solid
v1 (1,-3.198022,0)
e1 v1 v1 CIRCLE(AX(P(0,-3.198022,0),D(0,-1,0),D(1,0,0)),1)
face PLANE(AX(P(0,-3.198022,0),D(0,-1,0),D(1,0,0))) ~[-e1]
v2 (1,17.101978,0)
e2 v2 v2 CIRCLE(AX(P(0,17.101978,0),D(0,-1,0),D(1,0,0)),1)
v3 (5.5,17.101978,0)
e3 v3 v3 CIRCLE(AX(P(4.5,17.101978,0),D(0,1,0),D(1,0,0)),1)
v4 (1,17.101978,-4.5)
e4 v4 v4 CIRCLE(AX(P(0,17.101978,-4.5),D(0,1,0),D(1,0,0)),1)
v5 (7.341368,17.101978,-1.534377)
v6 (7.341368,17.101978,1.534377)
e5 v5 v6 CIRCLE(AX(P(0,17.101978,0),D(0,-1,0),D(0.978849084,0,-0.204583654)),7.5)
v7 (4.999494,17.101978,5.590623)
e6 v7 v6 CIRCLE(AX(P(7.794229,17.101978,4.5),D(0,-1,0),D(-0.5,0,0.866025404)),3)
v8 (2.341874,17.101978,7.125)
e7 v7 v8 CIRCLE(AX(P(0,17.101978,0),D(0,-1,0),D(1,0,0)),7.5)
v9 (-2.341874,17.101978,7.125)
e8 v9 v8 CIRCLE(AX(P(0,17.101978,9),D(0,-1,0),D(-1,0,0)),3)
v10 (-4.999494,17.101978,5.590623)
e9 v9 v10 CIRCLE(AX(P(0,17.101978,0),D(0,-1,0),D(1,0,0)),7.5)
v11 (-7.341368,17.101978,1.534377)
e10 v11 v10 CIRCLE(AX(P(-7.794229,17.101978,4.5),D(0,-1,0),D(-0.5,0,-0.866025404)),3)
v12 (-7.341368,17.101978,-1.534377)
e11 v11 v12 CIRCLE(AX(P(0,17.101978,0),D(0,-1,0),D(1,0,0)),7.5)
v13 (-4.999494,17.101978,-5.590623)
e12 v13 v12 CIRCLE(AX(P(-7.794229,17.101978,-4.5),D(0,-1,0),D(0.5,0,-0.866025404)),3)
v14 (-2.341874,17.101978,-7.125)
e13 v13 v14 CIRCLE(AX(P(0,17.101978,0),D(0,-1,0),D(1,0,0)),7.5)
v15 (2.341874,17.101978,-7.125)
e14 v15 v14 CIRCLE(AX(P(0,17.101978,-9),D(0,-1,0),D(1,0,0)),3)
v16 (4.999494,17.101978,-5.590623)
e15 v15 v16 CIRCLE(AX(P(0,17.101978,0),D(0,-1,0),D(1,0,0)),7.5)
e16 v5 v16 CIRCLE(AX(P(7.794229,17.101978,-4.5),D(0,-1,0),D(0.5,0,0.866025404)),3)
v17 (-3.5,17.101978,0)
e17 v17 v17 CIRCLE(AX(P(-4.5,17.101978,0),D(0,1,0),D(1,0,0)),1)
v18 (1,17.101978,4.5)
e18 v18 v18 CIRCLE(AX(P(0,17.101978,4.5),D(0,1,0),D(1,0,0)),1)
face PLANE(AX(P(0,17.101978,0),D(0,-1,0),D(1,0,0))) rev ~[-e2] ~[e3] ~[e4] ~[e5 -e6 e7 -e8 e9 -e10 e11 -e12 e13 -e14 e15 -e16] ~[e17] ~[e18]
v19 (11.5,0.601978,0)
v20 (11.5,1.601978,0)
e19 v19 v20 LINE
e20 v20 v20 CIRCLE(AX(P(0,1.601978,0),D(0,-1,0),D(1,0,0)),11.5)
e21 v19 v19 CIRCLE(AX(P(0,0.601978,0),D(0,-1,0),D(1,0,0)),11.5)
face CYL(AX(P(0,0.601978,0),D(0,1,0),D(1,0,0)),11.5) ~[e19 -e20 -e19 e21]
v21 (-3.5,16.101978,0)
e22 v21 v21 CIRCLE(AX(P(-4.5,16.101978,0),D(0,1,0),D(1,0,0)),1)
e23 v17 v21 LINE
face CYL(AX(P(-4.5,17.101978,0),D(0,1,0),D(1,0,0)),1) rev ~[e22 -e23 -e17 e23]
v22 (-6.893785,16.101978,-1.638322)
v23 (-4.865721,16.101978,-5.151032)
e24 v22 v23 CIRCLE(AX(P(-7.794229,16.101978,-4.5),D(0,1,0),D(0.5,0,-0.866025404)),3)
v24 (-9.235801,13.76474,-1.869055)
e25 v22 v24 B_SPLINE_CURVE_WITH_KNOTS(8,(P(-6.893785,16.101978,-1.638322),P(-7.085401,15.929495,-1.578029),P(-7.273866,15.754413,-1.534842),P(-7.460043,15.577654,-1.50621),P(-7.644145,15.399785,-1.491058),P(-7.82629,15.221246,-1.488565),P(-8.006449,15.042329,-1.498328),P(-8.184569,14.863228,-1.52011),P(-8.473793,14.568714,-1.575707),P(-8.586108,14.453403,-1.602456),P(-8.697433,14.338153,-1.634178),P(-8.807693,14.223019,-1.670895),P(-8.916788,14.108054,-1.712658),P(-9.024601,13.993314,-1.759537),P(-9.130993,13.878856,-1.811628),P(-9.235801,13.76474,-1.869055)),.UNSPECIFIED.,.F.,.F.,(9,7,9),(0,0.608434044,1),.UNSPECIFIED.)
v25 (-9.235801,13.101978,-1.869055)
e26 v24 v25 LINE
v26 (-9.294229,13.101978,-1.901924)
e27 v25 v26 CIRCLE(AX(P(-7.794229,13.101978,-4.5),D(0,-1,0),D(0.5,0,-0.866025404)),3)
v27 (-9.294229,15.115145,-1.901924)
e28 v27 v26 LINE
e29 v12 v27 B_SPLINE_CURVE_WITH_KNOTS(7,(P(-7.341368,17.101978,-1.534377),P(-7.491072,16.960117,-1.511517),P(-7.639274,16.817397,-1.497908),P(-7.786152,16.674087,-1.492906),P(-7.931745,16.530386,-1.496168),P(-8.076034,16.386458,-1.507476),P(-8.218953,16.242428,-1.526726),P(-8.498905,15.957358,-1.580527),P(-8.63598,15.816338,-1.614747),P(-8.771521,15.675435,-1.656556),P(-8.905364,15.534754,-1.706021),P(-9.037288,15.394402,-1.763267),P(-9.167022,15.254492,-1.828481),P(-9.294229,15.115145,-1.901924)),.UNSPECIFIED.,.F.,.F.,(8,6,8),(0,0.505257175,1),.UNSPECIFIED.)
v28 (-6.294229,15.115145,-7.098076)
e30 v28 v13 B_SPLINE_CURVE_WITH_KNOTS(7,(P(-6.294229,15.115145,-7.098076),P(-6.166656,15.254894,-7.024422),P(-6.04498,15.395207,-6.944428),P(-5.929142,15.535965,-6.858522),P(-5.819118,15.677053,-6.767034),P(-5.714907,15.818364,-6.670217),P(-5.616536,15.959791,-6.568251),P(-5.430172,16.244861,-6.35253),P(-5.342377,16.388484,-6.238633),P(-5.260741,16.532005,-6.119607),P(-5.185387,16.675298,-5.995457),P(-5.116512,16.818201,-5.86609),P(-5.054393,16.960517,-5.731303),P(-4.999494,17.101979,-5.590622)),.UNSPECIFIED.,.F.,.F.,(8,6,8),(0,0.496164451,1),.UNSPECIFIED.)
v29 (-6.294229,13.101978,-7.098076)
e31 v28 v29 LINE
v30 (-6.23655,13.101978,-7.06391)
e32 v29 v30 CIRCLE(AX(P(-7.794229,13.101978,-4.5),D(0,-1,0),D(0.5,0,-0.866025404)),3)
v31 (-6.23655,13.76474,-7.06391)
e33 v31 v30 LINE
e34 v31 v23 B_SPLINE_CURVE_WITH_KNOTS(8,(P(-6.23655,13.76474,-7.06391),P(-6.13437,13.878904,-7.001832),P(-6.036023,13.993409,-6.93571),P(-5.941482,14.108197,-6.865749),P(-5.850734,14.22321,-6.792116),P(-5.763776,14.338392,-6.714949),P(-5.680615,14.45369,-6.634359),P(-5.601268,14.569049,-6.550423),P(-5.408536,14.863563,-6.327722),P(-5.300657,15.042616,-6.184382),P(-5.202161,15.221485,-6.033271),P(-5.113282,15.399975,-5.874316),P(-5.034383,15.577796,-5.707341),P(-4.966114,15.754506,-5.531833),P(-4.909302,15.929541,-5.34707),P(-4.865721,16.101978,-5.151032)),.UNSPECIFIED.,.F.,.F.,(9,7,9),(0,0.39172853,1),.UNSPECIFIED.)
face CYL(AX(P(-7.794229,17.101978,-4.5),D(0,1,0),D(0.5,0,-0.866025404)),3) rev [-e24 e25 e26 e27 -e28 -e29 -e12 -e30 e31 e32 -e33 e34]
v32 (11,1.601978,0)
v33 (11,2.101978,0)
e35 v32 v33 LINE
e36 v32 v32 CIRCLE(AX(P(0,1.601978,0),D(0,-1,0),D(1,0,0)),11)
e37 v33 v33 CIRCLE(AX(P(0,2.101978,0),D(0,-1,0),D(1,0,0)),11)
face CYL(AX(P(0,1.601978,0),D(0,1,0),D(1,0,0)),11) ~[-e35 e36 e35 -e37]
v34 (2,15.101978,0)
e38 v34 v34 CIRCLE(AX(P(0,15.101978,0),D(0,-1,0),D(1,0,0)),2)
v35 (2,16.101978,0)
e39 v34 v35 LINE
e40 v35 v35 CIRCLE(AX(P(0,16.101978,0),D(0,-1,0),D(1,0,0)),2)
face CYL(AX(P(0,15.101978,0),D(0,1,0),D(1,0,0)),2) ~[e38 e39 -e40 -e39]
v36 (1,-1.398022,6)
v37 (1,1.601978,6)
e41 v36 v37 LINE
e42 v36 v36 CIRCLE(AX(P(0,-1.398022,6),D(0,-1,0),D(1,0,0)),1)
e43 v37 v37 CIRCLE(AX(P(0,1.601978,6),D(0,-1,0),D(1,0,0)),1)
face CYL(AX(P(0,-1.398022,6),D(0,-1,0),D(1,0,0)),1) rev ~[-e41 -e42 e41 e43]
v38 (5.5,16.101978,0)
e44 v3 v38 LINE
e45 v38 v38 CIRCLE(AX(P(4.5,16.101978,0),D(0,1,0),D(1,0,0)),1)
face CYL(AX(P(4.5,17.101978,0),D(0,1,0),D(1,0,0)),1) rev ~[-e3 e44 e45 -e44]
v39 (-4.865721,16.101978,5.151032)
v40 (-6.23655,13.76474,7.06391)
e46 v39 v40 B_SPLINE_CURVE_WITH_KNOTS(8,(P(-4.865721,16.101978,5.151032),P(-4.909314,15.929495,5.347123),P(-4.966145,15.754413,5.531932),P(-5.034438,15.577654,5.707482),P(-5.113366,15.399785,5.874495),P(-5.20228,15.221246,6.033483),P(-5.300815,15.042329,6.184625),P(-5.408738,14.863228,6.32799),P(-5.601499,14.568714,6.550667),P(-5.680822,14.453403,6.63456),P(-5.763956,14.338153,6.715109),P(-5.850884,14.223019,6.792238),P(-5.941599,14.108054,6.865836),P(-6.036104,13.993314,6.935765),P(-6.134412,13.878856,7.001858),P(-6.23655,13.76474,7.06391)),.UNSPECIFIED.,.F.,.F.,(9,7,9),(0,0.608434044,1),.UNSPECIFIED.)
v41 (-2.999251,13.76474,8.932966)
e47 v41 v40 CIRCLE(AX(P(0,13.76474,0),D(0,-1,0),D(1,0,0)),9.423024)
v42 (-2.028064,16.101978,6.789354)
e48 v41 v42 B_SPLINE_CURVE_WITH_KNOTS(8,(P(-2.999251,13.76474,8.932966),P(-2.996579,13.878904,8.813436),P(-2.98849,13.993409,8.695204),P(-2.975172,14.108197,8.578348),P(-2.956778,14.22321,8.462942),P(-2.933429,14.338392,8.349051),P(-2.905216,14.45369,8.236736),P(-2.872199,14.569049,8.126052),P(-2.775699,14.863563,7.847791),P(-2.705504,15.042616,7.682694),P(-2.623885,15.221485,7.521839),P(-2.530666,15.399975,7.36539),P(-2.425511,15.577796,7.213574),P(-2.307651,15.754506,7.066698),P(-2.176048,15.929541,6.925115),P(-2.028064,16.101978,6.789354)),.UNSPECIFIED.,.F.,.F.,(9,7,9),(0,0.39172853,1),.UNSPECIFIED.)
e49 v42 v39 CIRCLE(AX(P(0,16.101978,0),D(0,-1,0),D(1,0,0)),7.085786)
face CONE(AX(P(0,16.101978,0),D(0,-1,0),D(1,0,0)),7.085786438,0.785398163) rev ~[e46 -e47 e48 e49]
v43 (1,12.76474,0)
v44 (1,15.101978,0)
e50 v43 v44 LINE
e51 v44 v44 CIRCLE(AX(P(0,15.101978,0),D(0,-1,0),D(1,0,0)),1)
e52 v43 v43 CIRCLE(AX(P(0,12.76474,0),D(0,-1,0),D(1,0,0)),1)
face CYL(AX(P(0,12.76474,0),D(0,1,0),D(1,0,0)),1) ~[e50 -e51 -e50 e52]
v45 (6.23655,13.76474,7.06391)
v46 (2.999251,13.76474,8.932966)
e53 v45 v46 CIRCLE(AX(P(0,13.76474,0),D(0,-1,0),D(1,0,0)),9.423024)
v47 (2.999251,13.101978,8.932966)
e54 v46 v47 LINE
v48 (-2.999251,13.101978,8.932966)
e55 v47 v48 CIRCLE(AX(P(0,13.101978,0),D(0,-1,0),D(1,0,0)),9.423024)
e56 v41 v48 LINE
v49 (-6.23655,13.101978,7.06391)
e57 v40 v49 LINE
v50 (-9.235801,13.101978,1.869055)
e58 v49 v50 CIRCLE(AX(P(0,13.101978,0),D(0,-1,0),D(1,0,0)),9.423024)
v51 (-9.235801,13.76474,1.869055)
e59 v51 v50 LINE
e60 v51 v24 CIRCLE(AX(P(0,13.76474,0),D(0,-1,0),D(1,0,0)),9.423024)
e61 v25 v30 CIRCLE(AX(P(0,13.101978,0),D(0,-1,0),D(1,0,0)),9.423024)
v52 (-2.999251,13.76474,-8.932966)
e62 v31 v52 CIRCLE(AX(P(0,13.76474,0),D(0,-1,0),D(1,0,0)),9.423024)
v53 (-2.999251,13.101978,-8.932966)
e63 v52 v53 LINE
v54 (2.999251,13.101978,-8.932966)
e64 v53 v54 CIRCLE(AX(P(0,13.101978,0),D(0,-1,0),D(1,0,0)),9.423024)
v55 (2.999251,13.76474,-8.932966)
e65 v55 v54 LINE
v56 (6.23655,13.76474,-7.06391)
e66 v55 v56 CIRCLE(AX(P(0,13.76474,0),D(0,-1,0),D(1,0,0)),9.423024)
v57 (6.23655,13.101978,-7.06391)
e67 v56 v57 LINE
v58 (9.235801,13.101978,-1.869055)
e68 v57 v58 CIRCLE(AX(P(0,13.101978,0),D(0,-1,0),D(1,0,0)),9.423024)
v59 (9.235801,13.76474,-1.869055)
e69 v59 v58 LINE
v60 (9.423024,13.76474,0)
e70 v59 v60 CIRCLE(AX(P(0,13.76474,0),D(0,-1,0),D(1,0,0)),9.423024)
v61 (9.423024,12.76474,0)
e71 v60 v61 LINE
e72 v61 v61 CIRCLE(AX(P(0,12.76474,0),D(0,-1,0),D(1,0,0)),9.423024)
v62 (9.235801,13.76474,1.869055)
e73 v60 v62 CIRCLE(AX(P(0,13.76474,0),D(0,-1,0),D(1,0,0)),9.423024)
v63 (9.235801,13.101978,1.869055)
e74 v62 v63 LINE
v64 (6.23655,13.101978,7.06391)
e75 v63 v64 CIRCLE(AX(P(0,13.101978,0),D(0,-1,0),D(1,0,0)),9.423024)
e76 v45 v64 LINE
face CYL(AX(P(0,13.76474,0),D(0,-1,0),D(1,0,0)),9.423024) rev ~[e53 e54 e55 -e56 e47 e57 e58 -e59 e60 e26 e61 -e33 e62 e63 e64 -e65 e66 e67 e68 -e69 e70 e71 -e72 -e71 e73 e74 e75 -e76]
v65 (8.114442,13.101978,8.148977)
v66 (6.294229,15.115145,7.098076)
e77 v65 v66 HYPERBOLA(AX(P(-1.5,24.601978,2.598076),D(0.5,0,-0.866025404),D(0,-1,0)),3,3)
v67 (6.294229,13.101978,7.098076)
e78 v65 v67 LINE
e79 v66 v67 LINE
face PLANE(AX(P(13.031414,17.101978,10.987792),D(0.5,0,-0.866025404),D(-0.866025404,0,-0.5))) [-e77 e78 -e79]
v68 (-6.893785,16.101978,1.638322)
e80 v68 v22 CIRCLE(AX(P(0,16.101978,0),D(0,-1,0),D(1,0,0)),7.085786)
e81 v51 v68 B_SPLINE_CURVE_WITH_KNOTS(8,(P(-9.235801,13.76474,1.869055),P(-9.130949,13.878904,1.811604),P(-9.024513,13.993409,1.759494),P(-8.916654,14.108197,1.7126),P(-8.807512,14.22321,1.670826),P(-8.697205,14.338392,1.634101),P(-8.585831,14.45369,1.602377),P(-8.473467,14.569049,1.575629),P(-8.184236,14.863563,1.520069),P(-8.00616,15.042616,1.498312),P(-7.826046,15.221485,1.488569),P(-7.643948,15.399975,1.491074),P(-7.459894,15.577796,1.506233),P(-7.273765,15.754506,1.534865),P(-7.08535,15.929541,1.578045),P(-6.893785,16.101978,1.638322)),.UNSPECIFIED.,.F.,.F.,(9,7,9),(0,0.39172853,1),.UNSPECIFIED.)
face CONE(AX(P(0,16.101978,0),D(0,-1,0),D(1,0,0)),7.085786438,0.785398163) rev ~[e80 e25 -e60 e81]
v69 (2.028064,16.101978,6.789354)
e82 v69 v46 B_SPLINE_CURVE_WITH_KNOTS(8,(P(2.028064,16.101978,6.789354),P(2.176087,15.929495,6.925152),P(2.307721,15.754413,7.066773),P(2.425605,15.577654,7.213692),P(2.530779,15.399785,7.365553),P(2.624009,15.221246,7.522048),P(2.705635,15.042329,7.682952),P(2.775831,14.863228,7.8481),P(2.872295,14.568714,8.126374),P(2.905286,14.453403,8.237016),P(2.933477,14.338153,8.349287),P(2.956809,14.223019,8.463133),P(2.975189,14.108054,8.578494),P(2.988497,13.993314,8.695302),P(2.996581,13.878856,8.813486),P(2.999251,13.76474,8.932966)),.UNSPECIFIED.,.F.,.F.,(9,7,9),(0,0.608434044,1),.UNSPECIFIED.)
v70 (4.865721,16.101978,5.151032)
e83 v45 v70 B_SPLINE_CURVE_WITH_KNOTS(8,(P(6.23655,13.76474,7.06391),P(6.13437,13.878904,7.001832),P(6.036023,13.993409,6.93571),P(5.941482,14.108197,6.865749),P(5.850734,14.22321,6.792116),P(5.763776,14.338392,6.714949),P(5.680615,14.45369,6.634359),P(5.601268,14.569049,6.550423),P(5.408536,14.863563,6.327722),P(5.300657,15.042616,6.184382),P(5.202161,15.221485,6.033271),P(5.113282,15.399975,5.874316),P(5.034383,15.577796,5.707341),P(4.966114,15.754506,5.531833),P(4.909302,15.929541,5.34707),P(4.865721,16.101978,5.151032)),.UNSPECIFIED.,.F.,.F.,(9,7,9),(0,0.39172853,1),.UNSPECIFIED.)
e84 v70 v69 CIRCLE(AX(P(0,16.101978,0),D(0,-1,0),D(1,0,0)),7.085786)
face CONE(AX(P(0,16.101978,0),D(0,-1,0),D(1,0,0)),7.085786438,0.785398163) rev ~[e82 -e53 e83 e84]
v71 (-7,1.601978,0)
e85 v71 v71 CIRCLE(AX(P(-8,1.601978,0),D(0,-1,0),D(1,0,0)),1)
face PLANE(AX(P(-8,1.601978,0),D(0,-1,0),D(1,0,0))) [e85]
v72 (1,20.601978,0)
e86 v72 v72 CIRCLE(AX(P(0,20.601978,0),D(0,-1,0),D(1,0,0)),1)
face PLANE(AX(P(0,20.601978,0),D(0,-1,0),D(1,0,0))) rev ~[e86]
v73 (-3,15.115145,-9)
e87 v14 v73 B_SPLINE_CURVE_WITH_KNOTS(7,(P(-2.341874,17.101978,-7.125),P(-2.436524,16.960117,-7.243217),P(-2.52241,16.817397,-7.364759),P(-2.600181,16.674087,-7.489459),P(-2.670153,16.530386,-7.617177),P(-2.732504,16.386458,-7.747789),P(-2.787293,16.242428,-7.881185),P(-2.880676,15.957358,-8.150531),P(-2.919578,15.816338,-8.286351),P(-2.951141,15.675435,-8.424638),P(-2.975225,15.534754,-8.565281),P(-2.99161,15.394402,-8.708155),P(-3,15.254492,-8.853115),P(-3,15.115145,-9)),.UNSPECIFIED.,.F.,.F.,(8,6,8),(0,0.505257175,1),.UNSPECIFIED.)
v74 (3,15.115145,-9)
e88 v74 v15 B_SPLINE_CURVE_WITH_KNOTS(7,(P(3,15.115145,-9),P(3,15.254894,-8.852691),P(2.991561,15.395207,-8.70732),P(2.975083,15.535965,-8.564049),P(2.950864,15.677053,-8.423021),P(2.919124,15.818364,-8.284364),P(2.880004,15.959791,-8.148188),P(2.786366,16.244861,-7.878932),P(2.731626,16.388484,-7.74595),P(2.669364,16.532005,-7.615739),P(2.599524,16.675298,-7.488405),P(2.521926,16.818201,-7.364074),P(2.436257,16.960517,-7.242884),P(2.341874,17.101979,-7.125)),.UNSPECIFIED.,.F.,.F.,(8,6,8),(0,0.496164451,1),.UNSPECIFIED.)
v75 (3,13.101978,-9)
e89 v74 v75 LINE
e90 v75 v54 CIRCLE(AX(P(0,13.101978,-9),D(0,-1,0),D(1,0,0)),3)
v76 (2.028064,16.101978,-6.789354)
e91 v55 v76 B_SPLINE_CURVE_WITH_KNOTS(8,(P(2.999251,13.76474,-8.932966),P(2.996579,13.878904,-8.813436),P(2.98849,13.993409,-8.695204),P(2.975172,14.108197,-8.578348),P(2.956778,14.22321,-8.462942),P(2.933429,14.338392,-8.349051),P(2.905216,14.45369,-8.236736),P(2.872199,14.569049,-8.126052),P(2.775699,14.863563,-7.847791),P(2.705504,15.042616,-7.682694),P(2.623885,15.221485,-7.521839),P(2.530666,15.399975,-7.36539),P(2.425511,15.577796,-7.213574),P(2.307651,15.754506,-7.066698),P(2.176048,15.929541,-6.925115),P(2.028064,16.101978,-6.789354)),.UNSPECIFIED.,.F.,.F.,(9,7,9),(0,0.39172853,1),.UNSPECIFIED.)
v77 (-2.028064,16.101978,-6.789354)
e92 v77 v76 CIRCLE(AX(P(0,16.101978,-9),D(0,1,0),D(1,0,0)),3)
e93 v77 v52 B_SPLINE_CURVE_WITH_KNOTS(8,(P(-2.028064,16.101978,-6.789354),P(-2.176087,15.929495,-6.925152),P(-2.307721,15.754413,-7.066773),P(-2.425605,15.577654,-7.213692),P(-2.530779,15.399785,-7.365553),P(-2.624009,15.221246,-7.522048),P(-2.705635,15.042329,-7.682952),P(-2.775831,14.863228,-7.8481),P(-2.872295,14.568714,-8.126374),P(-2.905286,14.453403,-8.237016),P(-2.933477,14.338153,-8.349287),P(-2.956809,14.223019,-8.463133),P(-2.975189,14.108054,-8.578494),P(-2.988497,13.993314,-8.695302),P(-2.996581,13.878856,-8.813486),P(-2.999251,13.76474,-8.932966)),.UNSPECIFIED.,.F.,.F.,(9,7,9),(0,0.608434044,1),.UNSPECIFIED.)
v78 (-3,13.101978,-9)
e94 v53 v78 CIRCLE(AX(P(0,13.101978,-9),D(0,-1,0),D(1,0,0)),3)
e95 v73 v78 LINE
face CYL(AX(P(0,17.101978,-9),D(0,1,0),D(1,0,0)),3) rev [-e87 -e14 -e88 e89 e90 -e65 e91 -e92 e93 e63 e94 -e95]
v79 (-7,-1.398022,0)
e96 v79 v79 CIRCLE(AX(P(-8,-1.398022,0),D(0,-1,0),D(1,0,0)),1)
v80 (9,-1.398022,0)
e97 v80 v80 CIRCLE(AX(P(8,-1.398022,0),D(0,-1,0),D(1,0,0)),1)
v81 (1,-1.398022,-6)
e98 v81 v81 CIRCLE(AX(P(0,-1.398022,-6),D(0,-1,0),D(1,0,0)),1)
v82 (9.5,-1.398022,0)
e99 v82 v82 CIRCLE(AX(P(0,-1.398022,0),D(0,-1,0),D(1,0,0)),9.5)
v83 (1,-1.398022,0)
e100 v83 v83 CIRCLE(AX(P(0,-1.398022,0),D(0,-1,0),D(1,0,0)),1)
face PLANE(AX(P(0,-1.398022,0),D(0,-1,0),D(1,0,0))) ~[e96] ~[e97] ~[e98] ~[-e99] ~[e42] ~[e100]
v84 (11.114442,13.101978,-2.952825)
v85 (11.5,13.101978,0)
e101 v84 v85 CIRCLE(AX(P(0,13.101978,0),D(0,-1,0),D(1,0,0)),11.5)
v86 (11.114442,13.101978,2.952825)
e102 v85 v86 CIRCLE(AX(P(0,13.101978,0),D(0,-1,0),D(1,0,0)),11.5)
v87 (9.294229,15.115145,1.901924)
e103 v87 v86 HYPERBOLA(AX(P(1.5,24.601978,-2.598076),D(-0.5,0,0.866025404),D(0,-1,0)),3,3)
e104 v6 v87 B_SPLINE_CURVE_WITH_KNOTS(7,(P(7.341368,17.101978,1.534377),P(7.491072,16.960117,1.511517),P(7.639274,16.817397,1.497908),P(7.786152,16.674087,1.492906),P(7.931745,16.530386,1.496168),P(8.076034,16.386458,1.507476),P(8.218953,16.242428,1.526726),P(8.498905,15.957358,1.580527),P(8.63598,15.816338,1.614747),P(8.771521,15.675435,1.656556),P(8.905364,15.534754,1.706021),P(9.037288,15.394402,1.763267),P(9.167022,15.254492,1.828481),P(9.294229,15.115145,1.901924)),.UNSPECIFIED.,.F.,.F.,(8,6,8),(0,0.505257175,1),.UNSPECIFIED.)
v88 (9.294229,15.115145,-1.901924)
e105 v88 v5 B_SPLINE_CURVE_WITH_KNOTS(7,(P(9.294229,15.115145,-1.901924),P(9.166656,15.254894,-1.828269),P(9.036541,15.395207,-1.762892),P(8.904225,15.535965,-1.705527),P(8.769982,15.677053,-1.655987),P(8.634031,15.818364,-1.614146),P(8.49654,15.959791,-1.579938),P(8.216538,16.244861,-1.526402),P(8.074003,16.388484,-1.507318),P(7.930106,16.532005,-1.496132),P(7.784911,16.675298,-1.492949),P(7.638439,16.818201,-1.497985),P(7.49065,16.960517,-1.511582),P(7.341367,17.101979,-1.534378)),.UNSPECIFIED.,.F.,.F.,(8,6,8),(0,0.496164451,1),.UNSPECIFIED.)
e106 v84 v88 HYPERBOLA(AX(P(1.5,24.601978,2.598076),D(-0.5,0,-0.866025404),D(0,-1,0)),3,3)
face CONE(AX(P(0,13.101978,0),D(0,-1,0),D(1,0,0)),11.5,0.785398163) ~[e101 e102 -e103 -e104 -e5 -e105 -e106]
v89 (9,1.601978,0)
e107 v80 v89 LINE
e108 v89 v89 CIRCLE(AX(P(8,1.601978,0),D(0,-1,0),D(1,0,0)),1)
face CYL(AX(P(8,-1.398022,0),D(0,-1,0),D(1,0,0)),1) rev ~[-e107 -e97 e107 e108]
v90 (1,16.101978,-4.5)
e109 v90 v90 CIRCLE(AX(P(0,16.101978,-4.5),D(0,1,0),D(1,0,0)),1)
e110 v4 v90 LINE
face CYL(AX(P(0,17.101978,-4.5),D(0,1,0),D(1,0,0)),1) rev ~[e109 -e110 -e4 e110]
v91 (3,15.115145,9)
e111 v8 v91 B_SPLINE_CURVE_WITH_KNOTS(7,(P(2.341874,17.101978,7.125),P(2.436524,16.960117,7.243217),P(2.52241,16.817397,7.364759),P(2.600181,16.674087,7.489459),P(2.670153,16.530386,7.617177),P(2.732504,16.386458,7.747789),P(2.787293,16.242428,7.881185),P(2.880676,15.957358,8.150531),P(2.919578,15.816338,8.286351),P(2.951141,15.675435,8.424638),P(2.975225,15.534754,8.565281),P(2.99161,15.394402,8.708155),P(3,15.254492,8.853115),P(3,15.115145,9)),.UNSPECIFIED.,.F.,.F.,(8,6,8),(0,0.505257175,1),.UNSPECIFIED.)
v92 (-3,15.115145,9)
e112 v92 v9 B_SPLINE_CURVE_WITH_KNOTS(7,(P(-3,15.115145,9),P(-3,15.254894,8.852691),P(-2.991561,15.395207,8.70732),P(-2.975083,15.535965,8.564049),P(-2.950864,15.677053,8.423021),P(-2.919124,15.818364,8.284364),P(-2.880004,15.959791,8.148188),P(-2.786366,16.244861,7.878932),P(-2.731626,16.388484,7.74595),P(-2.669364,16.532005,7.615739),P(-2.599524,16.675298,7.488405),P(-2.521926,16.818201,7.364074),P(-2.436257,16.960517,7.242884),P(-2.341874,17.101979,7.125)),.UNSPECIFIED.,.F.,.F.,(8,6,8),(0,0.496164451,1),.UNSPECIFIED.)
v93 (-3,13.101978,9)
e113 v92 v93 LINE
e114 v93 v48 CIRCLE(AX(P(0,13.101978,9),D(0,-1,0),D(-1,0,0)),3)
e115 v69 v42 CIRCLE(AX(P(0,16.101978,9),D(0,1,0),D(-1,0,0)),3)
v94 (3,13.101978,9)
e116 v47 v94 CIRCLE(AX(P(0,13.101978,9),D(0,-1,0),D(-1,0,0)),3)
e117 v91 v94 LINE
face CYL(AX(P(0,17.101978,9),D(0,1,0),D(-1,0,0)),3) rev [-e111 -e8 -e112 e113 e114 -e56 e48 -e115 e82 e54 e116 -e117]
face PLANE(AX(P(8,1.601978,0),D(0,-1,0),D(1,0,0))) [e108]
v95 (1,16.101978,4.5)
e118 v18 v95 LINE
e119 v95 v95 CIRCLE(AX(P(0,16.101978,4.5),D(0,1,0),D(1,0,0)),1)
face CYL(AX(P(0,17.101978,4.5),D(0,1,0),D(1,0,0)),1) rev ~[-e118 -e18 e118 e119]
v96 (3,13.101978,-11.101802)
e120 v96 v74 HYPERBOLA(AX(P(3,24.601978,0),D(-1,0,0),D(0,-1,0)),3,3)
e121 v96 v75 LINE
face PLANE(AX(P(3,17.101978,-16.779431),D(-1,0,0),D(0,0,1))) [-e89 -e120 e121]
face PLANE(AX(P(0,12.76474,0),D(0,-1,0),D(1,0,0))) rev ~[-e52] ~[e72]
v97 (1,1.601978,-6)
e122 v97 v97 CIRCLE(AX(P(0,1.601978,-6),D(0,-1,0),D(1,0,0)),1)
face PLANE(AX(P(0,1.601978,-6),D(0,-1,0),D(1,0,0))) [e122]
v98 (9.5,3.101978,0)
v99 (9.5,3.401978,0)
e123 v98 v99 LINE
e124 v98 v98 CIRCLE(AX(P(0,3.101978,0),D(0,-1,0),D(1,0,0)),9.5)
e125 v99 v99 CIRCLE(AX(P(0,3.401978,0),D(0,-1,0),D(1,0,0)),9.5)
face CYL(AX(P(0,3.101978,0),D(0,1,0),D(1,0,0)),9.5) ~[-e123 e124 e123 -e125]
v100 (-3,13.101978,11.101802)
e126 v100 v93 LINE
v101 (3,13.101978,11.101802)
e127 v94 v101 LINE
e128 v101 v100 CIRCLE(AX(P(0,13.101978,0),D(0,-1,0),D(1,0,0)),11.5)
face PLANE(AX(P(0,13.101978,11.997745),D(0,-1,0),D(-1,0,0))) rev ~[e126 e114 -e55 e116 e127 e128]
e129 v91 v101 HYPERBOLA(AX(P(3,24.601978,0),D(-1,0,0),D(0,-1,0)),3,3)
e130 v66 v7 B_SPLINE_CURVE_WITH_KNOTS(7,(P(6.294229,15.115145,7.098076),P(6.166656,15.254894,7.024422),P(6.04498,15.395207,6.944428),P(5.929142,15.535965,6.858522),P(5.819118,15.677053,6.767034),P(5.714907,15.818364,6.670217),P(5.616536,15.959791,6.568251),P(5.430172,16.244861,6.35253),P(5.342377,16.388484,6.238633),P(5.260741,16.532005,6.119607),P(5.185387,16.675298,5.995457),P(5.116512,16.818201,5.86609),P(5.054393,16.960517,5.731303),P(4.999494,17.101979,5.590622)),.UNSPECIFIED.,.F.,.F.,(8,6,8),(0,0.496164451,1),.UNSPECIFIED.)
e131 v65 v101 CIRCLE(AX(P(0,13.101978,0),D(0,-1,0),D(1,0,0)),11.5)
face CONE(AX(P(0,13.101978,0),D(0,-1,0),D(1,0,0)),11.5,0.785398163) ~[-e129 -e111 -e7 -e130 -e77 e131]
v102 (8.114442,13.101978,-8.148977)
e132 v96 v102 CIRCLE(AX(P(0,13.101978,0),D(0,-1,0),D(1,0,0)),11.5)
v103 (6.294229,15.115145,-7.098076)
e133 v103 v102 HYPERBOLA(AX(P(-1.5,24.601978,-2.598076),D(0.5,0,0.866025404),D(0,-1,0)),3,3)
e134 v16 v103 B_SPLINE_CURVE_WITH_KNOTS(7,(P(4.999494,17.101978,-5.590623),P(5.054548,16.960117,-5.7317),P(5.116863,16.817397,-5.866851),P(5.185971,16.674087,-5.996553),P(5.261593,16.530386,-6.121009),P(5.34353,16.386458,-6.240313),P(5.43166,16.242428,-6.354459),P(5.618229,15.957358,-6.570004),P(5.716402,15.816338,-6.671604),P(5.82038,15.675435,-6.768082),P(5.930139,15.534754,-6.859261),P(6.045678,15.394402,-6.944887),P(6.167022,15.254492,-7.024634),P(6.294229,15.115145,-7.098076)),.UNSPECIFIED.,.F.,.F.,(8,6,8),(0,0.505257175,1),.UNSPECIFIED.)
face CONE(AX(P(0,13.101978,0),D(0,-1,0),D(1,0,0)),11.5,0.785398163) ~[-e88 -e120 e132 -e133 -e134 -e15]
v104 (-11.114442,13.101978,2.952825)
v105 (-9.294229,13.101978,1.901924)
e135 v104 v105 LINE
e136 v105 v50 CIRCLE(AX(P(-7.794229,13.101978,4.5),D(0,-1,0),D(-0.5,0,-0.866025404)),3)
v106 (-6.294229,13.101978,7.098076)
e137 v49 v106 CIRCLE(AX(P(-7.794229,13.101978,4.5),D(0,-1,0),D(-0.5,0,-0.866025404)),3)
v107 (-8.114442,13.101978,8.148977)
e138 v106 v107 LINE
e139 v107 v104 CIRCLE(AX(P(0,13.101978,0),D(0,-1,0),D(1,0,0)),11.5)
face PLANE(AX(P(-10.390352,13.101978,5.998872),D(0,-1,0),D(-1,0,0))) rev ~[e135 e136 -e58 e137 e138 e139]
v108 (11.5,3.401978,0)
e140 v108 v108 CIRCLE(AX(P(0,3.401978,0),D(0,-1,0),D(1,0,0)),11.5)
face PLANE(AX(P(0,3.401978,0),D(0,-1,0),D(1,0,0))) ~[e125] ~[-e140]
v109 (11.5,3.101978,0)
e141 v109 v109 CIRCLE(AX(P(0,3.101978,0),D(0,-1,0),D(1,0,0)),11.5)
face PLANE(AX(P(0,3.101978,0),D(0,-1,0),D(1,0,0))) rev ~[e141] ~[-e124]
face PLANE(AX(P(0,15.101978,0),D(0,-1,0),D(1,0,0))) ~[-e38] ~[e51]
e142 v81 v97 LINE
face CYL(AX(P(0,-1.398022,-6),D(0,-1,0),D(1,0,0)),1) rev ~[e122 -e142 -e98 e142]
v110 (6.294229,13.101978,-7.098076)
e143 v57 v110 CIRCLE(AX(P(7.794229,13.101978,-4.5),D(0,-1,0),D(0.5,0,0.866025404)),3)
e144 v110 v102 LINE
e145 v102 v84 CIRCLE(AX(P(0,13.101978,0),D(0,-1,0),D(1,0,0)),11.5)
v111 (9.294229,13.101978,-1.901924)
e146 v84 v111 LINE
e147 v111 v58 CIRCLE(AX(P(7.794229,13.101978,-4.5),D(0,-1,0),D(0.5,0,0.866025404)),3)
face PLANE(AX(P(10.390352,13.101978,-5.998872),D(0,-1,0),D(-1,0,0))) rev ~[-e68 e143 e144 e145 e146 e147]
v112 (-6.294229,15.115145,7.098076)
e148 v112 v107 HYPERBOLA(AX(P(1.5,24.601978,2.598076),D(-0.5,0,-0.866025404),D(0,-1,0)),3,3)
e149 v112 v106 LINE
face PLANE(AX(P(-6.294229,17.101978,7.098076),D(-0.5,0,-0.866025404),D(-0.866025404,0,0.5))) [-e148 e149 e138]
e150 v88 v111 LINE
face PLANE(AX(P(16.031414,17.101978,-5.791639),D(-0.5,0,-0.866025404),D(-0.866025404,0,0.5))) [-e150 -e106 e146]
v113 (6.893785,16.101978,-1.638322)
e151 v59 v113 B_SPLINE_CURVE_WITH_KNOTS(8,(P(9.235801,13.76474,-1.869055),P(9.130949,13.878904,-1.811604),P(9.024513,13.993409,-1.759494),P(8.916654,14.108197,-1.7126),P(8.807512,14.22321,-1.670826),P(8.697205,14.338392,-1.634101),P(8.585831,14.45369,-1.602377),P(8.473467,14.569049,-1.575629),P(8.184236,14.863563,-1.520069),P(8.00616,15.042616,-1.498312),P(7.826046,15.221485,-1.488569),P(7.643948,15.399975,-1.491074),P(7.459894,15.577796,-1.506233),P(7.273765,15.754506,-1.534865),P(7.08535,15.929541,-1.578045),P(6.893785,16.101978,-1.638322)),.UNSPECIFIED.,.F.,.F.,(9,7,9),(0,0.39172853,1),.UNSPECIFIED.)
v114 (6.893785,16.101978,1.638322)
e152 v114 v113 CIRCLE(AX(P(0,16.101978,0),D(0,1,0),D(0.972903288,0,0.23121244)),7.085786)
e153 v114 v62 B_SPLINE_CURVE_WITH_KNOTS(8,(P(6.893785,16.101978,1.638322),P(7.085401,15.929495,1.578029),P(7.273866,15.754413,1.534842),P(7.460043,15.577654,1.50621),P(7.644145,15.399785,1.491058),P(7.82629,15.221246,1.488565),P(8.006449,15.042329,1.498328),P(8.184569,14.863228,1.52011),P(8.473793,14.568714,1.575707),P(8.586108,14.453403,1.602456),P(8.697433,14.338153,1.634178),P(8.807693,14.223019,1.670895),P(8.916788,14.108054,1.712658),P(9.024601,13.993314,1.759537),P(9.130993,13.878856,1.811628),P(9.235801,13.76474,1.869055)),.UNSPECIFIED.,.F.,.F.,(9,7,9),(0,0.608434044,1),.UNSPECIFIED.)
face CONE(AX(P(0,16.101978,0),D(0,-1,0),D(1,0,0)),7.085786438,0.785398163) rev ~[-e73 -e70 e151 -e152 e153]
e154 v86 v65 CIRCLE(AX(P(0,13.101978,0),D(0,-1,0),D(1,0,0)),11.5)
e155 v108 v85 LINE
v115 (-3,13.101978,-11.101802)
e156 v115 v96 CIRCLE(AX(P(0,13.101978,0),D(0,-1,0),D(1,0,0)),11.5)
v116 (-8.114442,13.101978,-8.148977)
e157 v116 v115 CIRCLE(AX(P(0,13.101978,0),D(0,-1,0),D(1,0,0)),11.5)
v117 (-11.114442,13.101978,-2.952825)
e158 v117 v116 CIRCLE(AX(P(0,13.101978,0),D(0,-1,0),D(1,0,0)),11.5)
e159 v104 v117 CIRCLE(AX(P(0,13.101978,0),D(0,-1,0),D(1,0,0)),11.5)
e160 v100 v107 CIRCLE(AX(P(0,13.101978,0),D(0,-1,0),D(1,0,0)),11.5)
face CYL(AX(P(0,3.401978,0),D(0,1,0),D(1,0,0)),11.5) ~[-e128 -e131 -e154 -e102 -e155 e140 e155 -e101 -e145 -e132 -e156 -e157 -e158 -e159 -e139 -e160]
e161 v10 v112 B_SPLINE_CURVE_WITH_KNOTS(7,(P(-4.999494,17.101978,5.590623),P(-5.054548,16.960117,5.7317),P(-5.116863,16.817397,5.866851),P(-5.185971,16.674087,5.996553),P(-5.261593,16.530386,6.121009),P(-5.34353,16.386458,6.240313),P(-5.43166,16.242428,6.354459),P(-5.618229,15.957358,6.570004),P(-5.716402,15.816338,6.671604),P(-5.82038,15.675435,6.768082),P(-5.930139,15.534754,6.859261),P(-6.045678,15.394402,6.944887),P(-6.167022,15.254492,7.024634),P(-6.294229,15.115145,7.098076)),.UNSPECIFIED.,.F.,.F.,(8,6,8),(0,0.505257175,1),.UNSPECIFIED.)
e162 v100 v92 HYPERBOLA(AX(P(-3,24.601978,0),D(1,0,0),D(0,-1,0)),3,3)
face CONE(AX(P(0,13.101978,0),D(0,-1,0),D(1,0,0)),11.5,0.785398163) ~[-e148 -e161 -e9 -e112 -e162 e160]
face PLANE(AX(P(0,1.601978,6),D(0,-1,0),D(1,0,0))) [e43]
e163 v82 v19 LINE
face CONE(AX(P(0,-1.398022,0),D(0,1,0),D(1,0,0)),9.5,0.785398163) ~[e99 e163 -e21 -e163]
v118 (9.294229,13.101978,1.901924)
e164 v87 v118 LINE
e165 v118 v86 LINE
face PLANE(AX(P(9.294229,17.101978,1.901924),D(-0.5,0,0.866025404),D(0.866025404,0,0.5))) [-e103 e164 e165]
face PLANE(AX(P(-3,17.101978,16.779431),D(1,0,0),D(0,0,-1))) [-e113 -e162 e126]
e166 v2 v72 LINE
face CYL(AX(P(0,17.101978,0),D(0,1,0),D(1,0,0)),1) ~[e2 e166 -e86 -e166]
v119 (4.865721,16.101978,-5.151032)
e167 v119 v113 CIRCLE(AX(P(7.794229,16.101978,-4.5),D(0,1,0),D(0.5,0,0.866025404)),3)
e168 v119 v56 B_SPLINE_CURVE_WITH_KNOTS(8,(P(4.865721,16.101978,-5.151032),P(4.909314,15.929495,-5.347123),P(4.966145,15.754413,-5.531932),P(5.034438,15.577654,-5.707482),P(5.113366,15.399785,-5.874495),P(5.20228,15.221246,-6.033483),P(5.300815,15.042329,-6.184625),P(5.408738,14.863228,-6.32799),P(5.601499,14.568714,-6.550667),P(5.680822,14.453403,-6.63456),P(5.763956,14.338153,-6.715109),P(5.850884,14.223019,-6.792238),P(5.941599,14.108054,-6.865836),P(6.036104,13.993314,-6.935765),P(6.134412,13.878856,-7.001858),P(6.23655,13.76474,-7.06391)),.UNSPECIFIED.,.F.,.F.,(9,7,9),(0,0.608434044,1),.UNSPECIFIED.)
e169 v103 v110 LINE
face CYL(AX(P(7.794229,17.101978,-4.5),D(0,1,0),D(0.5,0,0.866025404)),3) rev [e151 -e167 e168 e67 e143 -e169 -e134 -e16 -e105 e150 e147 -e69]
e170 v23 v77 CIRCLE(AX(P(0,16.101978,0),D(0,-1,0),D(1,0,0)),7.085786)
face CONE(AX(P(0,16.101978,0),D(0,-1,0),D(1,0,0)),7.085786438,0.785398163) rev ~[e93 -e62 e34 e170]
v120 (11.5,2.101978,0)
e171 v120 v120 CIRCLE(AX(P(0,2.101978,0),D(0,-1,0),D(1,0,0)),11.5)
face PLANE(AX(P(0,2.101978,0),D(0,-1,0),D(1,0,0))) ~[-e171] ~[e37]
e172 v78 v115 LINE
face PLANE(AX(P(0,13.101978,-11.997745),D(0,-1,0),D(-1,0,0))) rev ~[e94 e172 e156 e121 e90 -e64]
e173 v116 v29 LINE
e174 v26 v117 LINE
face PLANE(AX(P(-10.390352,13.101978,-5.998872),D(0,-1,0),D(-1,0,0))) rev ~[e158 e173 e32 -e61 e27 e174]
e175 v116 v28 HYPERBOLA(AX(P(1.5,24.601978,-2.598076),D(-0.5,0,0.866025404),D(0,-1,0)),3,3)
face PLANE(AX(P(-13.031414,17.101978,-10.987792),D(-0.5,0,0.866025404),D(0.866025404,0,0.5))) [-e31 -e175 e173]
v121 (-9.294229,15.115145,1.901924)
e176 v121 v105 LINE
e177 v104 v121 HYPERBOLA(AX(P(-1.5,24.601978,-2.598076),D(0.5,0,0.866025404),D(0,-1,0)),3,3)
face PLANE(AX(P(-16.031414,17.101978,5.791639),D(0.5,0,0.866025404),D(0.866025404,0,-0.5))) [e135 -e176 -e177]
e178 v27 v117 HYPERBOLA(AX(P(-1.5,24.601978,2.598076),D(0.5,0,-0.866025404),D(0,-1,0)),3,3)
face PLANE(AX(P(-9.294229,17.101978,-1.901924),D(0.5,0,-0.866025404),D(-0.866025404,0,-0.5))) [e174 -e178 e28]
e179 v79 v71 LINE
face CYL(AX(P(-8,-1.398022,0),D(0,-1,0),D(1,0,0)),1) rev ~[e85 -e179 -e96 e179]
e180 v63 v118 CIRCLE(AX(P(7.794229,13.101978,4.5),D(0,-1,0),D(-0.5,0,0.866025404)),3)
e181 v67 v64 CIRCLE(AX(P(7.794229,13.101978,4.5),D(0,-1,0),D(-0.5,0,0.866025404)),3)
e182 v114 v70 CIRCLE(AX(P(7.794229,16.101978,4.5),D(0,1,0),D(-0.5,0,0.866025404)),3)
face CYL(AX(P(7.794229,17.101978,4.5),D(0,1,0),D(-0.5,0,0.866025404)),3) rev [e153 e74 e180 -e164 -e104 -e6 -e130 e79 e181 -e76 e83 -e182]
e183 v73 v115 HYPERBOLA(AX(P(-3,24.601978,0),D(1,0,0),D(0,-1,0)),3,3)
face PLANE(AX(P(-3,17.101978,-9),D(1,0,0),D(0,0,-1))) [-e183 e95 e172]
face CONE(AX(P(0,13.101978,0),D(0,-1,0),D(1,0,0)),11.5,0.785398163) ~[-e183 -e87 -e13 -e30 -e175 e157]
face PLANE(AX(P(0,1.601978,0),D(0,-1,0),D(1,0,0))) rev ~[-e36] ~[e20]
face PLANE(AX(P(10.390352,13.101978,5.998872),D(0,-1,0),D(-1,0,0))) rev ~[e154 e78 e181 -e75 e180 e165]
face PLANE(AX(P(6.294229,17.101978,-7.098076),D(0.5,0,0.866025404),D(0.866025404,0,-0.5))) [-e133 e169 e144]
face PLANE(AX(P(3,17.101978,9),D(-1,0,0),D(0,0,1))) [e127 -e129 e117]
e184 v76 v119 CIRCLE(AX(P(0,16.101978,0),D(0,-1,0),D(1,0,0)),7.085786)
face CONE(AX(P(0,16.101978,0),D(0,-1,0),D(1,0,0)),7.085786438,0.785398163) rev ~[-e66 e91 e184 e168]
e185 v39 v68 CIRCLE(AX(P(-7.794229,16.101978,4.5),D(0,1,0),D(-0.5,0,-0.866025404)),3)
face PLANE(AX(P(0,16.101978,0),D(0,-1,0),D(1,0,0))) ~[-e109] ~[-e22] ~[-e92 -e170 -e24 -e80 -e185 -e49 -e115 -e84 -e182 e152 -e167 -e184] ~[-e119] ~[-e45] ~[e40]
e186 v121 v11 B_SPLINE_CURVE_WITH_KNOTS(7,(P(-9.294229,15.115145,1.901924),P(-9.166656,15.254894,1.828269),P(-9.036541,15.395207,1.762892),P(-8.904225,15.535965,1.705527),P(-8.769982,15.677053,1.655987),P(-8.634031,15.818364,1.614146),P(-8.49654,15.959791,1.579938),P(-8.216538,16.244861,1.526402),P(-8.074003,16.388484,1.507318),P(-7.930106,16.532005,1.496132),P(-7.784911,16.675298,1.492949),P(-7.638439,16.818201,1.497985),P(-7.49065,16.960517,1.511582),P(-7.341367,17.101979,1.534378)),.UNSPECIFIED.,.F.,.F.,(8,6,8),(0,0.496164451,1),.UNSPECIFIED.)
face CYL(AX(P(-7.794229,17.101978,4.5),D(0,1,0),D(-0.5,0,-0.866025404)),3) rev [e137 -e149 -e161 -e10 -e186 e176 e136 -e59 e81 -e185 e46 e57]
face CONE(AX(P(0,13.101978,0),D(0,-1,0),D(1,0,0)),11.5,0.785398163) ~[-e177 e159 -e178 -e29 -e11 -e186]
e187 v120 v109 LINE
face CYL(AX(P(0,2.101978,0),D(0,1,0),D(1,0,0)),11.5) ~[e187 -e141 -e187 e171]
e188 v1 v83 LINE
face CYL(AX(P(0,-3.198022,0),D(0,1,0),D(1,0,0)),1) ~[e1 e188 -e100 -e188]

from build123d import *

# Parameters (mm, degrees)
SKETCH2_R          = 1
CUT_EXTRUDE1_DEPTH = 4
SKETCH3_R          = 1
CUT_EXTRUDE2_DEPTH = 3


with BuildPart() as part:
    # Sketch1 → Revolve1 (revolve)
    with BuildSketch(Plane.XY):
        Polygon((0, 20.601977979), (0, 0), (0, -3.198022021), (1, -3.198022021), (1, -1.398022021), (9.5, -1.398022021), (11.5, 0.601977979), (11.5, 1.601977979), (11, 1.601977979), (11, 2.101977979), (11.5, 2.101977979), (11.5, 3.101977979), (9.5, 3.101977979), (9.5, 3.401977979), (11.5, 3.401977979), (11.5, 13.101977979), (7.5, 17.101977979), (1, 17.101977979), (1, 20.601977979), align=None)
        Polygon((2, 16.101977979), (7.085786438, 16.101977979), (9.423024171, 13.764740246), (9.423024171, 12.764740246), (1, 12.764740246), (1, 15.101977979), (2, 15.101977979), align=None, mode=Mode.SUBTRACT)
    revolve(axis=Axis((0, 20.601977979, 0), (0, -1, 0)))

    # Sketch2 → Cut-Extrude1 (cut)
    with BuildSketch(Plane(origin=(0, 17.101977979, 0), x_dir=(1, 0, 0), z_dir=(0, 1, 0))):
        with Locations((0, -4.5)):
            Circle(SKETCH2_R)
        with Locations((-4.5, 0)):
            Circle(SKETCH2_R)
        with Locations((0, 4.5)):
            Circle(SKETCH2_R)
        with Locations((4.5, 0)):
            Circle(SKETCH2_R)
        with BuildLine():
            Line((-3, 9), (-3, 16.77943101))
            Line((-3, 16.77943101), (3, 16.77943101))
            Line((3, 16.77943101), (3, 9))
            ThreePointArc((3, 9), (0, 6), (-3, 9))
        make_face()
        with BuildLine():
            Line((6.294228634, 7.098076211), (13.031413516, 10.987791717))
            Line((13.031413516, 10.987791717), (16.031413516, 5.791639294))
            Line((16.031413516, 5.791639294), (9.294228634, 1.901923789))
            ThreePointArc((9.294228634, 1.901923789), (5.196152423, 3), (6.294228634, 7.098076211))
        make_face()
        with BuildLine():
            Line((9.294228634, -1.901923789), (16.031413516, -5.791639294))
            Line((16.031413516, -5.791639294), (13.031413516, -10.987791717))
            Line((13.031413516, -10.987791717), (6.294228634, -7.098076211))
            ThreePointArc((6.294228634, -7.098076211), (5.196152423, -3), (9.294228634, -1.901923789))
        make_face()
        with BuildLine():
            Line((3, -9), (3, -16.77943101))
            Line((3, -16.77943101), (-3, -16.77943101))
            Line((-3, -16.77943101), (-3, -9))
            ThreePointArc((-3, -9), (0, -6), (3, -9))
        make_face()
        with BuildLine():
            Line((-6.294228634, -7.098076211), (-13.031413516, -10.987791717))
            Line((-13.031413516, -10.987791717), (-16.031413516, -5.791639294))
            Line((-16.031413516, -5.791639294), (-9.294228634, -1.901923789))
            ThreePointArc((-9.294228634, -1.901923789), (-5.196152423, -3), (-6.294228634, -7.098076211))
        make_face()
        with BuildLine():
            Line((-9.294228634, 1.901923789), (-16.031413516, 5.791639294))
            Line((-16.031413516, 5.791639294), (-13.031413516, 10.987791717))
            Line((-13.031413516, 10.987791717), (-6.294228634, 7.098076211))
            ThreePointArc((-6.294228634, 7.098076211), (-5.196152423, 3), (-9.294228634, 1.901923789))
        make_face()
    extrude(amount=-CUT_EXTRUDE1_DEPTH, mode=Mode.SUBTRACT)

    # Sketch3 → Cut-Extrude2 (cut)
    with BuildSketch(Plane.XZ.offset(1.398022021)):
        with Locations((0, 6)):
            Circle(SKETCH3_R)
        with Locations((0, -6)):
            Circle(SKETCH3_R)
        with Locations((-8, 0)):
            Circle(SKETCH3_R)
        with Locations((8, 0)):
            Circle(SKETCH3_R)
    extrude(amount=-CUT_EXTRUDE2_DEPTH, mode=Mode.SUBTRACT)


solid = part.part
